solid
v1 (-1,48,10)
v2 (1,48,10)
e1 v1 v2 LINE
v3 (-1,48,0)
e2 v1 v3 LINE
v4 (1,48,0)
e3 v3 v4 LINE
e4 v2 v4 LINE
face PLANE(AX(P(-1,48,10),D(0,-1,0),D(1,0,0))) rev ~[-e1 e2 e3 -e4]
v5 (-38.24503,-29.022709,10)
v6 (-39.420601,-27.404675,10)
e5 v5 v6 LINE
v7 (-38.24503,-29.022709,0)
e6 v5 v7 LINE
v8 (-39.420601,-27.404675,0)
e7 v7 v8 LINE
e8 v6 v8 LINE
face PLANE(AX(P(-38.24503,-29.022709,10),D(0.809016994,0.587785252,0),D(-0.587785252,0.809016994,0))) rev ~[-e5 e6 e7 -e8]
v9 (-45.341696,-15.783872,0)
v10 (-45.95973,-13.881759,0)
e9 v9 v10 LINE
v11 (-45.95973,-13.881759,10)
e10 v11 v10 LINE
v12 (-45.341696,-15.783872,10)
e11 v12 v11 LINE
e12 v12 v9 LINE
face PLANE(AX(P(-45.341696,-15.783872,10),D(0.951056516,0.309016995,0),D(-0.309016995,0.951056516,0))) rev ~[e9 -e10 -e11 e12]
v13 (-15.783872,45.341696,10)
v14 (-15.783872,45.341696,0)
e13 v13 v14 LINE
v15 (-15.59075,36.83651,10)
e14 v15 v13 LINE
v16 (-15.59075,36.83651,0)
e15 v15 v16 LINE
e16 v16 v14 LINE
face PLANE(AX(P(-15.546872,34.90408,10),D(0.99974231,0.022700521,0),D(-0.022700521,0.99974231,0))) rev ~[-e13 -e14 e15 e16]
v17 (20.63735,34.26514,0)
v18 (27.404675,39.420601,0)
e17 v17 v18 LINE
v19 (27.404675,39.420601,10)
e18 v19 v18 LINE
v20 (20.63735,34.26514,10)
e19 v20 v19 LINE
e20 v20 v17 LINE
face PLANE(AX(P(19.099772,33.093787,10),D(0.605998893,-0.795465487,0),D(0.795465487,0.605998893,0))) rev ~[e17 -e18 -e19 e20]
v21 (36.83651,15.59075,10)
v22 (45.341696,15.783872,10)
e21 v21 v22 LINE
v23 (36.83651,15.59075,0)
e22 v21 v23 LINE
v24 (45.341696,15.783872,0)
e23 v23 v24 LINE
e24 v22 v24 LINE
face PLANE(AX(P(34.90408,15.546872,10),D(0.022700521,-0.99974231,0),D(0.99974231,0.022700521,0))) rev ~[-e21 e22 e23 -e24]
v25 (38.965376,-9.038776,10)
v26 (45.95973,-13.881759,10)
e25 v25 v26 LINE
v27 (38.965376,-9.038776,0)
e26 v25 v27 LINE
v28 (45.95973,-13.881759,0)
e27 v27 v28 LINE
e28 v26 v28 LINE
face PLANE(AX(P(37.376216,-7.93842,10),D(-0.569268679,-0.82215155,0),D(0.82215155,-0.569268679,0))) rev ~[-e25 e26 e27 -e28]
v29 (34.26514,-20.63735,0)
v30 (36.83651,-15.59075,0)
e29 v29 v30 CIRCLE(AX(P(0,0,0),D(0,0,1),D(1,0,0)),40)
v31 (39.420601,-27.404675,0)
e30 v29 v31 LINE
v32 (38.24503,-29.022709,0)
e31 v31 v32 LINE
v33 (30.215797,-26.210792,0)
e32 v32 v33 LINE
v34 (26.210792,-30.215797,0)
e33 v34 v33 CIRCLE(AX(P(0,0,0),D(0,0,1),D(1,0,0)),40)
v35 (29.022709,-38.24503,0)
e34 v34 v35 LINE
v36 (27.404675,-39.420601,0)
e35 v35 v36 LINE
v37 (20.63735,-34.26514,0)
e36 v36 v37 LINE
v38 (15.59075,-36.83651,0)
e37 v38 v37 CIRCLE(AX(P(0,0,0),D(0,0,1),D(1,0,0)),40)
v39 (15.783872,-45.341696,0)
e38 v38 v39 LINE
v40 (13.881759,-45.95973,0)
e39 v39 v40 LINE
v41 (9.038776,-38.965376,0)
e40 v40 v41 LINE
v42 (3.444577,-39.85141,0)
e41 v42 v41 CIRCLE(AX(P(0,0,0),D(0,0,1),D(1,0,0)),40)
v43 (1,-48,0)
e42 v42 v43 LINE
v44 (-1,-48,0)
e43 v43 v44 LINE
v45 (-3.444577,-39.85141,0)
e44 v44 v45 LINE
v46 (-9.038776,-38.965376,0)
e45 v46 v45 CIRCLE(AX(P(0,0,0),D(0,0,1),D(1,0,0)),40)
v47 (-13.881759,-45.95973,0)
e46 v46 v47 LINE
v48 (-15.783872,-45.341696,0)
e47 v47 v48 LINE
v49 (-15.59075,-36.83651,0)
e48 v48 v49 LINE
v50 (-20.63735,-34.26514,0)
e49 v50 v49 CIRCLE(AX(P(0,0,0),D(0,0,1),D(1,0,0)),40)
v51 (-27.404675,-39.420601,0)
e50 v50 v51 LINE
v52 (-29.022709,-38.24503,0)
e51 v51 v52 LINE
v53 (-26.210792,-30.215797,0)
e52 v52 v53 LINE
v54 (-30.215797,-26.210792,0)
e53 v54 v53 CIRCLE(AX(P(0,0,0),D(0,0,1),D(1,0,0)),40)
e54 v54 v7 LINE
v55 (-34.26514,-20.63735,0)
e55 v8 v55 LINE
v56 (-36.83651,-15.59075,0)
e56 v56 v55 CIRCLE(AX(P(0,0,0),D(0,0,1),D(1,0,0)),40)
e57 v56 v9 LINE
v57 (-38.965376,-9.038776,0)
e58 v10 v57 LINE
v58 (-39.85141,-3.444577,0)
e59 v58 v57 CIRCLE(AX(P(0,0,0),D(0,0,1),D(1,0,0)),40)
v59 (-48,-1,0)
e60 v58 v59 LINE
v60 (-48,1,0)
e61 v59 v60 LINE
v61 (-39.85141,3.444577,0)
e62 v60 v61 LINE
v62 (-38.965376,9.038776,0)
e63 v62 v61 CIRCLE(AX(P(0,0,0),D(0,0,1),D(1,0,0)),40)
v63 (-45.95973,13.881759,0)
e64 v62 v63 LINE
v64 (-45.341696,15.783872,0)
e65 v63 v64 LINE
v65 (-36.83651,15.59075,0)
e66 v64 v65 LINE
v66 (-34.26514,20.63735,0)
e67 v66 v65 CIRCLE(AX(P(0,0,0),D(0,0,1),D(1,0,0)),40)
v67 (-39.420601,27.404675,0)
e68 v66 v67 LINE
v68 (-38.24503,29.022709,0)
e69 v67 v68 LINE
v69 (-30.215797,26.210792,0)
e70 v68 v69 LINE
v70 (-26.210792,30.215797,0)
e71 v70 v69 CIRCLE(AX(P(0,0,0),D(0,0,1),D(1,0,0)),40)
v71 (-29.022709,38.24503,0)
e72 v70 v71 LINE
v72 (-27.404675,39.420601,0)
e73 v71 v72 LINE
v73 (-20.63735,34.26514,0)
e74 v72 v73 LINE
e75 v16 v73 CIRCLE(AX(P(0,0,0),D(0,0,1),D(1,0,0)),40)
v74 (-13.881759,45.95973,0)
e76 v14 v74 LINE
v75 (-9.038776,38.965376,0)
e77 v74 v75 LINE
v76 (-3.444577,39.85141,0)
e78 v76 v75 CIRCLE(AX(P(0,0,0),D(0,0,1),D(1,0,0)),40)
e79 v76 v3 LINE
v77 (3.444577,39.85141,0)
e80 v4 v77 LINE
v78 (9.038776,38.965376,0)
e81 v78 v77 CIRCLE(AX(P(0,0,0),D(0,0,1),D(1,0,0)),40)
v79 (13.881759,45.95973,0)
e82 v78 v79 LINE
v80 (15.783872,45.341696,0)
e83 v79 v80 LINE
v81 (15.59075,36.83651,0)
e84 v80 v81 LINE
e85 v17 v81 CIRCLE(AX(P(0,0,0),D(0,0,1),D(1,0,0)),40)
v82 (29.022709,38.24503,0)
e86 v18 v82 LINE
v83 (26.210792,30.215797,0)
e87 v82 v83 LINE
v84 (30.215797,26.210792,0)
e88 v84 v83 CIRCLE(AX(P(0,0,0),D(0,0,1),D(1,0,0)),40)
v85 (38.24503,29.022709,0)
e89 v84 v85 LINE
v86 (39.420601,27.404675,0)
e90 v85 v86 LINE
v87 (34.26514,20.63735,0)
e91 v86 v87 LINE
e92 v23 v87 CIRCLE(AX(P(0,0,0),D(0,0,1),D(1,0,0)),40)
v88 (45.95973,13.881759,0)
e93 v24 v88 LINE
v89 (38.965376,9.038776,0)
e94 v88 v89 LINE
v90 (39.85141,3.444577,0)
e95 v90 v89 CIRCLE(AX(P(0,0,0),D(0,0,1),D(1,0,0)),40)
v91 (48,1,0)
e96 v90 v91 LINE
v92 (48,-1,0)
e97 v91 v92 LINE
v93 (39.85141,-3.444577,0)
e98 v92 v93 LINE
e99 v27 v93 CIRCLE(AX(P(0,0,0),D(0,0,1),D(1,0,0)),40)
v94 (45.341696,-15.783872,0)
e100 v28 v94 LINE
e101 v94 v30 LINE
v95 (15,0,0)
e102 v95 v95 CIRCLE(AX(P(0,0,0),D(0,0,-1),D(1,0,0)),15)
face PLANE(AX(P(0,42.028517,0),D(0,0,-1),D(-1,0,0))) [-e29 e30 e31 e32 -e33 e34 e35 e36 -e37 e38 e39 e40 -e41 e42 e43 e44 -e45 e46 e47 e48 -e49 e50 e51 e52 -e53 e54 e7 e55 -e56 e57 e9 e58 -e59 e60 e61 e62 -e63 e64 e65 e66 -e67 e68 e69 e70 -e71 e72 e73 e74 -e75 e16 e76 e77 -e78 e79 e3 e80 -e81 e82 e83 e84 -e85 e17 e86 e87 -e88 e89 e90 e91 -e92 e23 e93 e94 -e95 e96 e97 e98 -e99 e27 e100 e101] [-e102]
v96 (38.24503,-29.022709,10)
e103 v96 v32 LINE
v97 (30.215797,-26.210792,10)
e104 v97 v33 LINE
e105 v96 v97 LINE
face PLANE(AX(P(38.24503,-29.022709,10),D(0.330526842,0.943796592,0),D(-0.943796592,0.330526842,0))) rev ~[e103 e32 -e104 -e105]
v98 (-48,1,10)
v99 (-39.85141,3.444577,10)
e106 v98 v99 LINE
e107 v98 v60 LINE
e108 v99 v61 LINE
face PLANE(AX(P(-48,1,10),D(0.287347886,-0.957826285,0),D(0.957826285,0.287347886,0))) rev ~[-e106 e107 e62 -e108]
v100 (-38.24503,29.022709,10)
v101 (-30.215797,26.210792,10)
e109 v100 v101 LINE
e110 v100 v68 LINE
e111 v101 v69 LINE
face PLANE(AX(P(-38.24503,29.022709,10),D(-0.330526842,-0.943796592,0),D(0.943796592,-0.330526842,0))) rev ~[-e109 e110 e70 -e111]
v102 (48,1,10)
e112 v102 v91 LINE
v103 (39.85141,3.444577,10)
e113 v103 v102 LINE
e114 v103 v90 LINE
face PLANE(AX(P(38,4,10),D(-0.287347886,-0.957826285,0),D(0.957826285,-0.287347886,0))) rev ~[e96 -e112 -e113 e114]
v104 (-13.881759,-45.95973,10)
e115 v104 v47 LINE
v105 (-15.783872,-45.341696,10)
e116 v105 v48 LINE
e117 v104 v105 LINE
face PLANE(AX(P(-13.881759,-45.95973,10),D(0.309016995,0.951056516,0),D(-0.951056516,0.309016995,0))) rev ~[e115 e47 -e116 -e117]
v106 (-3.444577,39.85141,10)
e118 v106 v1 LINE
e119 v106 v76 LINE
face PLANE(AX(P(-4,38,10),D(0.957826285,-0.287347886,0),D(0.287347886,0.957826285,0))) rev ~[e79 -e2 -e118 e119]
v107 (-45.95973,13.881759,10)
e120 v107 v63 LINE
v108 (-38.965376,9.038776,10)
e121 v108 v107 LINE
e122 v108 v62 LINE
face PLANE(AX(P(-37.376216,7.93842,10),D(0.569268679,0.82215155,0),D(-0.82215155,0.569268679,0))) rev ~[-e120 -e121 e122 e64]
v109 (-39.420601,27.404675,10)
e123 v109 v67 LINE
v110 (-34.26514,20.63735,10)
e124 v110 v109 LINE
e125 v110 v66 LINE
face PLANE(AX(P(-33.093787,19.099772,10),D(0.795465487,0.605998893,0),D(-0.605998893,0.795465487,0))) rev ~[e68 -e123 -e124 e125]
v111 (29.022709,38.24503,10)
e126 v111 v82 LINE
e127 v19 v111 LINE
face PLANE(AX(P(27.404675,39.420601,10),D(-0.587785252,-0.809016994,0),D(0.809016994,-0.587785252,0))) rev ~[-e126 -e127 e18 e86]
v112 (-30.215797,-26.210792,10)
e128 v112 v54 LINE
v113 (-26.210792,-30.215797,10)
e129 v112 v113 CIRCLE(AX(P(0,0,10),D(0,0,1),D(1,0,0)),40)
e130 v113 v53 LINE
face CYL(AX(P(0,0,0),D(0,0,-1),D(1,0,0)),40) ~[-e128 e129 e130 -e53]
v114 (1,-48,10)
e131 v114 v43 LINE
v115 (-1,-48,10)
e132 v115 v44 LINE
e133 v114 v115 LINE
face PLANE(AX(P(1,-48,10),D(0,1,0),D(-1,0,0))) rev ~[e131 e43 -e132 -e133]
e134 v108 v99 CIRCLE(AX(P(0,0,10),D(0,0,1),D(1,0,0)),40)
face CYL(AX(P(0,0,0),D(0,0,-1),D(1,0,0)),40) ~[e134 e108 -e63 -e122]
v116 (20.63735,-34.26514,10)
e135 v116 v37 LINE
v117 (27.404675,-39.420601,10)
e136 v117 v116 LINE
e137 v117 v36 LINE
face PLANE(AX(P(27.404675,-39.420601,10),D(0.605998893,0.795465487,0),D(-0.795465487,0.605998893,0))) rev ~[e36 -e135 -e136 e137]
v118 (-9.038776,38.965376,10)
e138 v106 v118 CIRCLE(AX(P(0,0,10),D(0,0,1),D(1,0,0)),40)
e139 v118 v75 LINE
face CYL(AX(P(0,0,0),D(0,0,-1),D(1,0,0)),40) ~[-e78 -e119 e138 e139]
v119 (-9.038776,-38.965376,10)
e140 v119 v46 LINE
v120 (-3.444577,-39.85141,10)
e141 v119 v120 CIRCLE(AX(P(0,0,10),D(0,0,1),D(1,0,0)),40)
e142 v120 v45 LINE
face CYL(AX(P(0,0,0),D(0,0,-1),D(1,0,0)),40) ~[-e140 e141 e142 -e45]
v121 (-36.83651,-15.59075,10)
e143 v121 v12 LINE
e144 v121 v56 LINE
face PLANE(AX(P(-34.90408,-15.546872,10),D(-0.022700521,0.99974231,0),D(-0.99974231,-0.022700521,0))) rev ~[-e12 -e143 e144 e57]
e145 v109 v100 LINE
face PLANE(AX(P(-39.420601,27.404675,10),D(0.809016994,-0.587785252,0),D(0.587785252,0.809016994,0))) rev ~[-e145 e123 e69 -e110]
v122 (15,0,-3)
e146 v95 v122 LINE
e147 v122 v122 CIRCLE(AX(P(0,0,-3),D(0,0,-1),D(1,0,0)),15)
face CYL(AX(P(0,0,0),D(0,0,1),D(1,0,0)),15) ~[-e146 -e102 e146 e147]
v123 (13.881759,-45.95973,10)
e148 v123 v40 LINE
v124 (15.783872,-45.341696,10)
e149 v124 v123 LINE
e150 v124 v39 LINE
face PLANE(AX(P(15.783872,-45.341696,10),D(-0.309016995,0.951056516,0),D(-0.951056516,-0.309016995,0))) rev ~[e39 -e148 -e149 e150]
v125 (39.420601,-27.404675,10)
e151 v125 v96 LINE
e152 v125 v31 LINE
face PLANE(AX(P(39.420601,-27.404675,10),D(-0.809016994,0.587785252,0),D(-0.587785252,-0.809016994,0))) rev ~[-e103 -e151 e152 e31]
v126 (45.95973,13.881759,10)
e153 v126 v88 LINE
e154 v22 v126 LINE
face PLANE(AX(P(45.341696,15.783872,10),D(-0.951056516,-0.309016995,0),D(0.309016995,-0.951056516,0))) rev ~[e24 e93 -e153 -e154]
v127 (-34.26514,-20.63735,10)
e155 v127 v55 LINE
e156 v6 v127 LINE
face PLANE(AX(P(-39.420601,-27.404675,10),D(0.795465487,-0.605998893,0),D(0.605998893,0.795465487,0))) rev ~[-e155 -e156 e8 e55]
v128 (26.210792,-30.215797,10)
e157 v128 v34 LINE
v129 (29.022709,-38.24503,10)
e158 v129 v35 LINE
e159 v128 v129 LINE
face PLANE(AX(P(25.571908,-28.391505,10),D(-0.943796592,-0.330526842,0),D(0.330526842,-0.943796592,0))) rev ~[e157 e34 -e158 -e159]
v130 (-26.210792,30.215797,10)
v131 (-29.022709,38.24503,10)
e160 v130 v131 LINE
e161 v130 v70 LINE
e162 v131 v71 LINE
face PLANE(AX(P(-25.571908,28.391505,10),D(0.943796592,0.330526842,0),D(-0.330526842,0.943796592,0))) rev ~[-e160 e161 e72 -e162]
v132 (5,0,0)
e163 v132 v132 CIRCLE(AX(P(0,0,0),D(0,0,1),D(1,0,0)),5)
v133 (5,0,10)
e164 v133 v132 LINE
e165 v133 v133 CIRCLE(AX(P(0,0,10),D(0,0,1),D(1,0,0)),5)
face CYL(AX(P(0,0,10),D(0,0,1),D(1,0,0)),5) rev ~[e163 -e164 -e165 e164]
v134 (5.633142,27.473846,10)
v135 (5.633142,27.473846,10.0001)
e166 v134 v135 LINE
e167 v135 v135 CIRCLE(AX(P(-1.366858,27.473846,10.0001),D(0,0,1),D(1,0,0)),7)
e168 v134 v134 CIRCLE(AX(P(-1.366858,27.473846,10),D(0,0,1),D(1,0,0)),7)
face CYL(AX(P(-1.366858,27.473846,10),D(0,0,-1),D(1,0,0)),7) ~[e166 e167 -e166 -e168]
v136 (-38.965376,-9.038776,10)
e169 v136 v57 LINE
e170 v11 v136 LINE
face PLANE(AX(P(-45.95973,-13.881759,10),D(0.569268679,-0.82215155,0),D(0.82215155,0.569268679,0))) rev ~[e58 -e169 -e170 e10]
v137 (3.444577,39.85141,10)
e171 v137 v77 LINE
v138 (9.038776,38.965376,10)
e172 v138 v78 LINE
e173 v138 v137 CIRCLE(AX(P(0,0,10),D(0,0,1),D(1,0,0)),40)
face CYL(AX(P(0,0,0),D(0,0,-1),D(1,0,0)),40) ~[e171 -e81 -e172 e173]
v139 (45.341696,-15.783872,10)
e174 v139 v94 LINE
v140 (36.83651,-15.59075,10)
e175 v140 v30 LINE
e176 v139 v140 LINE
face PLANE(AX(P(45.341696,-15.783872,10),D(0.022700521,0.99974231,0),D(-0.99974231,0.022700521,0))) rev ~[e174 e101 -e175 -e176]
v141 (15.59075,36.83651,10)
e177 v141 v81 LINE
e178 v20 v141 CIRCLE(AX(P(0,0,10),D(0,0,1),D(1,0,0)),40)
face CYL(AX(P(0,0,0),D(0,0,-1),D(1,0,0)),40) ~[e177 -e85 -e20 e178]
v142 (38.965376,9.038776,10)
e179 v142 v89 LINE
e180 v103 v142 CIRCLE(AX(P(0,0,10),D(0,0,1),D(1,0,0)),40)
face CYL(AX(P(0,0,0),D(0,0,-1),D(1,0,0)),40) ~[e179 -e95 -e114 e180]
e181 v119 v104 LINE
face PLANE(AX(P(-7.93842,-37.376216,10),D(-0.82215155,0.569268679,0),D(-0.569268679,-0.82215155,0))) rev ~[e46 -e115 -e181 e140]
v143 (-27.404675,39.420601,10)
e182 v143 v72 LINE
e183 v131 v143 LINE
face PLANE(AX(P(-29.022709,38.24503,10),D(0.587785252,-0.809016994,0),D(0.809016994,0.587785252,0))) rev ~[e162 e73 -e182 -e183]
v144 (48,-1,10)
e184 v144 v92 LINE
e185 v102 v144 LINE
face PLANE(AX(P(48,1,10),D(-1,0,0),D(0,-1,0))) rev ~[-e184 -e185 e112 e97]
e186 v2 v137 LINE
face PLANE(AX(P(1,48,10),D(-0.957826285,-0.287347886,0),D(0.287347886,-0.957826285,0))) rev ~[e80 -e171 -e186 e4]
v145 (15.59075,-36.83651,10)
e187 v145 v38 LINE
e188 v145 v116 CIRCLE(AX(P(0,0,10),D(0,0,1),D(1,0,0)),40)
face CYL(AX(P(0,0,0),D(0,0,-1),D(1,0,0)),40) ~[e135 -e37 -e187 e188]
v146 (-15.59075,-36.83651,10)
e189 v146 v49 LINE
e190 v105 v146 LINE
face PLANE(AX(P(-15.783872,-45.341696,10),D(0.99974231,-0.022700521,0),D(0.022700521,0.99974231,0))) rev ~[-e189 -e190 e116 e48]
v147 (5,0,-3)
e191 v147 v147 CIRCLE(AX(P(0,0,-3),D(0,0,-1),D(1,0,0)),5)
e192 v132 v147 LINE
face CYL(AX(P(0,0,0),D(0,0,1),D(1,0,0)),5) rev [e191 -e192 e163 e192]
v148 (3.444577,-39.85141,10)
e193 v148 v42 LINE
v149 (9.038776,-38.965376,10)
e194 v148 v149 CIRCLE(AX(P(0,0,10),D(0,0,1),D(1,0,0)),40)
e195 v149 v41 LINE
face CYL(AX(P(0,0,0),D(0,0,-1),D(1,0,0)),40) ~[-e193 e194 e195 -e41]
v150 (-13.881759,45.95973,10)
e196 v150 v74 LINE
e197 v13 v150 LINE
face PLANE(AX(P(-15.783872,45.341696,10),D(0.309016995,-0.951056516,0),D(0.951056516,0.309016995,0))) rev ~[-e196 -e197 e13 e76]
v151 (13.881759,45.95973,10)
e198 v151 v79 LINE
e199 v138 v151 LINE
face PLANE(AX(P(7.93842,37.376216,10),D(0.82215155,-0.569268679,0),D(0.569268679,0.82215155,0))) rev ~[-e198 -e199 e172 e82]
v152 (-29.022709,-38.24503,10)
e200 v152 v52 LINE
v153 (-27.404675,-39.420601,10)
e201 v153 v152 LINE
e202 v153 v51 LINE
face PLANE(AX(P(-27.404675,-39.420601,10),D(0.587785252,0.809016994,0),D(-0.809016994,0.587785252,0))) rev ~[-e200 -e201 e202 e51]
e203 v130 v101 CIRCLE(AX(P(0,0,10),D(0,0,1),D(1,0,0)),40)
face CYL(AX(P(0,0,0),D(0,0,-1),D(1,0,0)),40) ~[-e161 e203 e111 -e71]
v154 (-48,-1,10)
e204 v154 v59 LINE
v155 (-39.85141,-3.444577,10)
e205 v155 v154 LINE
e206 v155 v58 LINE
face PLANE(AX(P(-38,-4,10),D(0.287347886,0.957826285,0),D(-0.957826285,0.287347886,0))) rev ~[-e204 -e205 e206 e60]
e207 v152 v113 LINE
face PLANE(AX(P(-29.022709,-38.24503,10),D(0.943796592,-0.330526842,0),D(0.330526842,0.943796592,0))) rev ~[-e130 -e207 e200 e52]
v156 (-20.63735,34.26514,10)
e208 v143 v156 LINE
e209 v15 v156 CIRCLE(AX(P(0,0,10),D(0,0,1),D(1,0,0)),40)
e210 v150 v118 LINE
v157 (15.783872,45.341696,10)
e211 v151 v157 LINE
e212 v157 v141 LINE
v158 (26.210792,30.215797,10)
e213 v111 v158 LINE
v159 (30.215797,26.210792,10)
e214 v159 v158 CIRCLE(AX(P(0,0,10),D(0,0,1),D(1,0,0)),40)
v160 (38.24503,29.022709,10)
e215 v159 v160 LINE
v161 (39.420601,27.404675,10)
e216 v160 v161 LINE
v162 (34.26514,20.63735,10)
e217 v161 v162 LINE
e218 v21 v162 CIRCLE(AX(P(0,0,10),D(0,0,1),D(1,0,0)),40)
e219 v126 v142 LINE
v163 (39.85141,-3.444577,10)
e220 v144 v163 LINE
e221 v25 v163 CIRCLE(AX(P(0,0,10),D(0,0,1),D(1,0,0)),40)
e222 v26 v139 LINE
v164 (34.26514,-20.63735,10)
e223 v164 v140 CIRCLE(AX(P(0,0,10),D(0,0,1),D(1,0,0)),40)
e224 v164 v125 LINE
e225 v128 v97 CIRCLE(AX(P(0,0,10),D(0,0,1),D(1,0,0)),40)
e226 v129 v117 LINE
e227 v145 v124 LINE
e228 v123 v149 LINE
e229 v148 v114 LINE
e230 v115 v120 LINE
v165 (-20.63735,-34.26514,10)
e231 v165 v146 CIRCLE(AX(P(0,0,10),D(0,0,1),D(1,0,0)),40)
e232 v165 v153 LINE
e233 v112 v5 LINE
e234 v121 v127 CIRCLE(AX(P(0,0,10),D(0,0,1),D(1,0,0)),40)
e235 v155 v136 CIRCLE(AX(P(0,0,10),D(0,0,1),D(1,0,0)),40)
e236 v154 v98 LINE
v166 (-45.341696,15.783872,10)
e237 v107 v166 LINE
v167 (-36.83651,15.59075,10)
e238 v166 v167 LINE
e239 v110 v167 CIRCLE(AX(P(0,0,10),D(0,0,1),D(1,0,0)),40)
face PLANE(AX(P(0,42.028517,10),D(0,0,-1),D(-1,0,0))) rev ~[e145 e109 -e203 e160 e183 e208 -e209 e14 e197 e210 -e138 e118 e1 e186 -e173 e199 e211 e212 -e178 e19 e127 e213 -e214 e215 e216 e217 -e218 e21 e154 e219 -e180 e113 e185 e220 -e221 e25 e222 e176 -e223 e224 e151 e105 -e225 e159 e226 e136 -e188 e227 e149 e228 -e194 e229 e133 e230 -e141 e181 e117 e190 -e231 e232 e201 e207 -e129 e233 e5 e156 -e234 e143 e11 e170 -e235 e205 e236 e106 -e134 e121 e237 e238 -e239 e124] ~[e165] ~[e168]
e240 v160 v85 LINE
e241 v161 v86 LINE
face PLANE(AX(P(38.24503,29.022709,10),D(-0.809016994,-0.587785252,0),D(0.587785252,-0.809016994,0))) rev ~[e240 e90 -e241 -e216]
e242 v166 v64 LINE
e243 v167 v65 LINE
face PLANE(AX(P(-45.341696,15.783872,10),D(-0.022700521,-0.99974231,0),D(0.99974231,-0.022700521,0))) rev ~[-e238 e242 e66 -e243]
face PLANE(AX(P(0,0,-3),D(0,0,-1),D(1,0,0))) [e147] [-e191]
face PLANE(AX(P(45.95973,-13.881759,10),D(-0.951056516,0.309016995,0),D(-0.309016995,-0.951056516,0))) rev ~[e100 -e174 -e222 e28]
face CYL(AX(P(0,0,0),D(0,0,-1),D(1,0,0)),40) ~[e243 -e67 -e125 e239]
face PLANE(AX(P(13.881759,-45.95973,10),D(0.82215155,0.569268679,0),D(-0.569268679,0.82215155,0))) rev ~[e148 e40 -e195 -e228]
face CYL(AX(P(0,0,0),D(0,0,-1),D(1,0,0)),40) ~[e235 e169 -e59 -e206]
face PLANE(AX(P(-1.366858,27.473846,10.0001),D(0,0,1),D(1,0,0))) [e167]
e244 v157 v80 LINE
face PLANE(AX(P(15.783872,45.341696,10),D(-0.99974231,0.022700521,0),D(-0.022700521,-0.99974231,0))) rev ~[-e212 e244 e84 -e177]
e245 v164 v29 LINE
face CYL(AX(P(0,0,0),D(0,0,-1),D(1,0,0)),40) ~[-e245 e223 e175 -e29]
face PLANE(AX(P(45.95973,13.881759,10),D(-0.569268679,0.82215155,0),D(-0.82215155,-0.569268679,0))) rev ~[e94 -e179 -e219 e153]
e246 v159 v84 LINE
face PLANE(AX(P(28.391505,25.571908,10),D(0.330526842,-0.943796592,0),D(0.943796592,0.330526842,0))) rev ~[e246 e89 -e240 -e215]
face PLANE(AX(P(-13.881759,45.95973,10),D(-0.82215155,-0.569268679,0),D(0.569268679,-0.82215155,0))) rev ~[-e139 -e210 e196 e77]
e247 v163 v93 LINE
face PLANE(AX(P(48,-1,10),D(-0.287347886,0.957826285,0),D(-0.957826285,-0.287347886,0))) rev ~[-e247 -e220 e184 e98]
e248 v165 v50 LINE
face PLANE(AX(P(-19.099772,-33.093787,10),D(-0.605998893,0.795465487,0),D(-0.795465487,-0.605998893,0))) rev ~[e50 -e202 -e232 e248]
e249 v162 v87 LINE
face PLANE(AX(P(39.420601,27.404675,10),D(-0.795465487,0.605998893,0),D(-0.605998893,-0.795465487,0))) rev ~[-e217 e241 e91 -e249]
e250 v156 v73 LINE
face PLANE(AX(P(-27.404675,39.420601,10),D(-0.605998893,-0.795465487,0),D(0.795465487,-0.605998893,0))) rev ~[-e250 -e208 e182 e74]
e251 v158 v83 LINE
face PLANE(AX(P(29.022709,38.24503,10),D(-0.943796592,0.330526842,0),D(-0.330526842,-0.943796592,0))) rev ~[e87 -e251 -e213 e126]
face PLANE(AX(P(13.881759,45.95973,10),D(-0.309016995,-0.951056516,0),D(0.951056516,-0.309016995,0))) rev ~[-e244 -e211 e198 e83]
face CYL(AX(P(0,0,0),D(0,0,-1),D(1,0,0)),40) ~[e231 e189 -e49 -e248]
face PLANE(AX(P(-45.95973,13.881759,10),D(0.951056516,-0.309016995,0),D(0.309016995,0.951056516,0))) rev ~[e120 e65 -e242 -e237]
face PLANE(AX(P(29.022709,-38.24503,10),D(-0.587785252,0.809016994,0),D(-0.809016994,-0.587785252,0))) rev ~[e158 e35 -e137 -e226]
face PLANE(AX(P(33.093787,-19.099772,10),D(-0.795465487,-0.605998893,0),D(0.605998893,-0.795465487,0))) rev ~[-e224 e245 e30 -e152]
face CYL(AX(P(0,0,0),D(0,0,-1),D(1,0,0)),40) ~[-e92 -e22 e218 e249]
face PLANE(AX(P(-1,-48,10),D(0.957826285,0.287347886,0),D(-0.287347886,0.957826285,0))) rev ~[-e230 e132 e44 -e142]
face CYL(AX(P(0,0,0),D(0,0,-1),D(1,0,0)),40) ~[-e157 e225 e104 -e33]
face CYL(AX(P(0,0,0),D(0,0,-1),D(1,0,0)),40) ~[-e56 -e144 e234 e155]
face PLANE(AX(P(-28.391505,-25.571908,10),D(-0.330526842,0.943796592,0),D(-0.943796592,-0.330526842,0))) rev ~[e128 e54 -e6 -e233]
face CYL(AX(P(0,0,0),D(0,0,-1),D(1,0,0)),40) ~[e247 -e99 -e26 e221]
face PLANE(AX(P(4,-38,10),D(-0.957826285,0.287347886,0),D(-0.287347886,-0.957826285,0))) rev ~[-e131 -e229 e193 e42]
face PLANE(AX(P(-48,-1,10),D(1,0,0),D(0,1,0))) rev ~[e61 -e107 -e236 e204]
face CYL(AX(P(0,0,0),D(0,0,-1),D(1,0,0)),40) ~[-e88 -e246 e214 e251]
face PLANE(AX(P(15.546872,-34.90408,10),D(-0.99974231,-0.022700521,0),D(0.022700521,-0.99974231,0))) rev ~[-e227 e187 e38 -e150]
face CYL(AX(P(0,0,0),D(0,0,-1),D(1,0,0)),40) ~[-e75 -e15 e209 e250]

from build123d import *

# Parameters (mm, degrees)
SKETCH1_R           = 40
BOSS_EXTRUDE1_DEPTH = 10
SKETCH2_R           = 5
CUT_EXTRUDE1_DEPTH  = 10
BOSS_EXTRUDE2_DEPTH = 10
SKETCH4_R           = 5
BOSS_EXTRUDE3_DEPTH = 0.0001
SKETCH5_R           = 7
BOSS_EXTRUDE4_DEPTH = 0.0001
SKETCH6_R           = 15
BOSS_EXTRUDE5_DEPTH = 3
CUT_EXTRUDE2_START  = -3
SKETCH7_R           = 5
CUT_EXTRUDE2_DEPTH  = 3


with BuildPart() as part:
    # Sketch1 → Boss-Extrude1 (new body)
    with BuildSketch(Plane.XY):
        Circle(SKETCH1_R)
    extrude(amount=BOSS_EXTRUDE1_DEPTH)

    # Sketch2 → Cut-Extrude1 (cut)
    with BuildSketch(Plane.XY.offset(10)):
        Circle(SKETCH2_R)
    extrude(amount=-CUT_EXTRUDE1_DEPTH, mode=Mode.SUBTRACT)

    # Sketch3 → Boss-Extrude2 (add)
    with BuildSketch(Plane.XY.offset(10)):
        Polygon((-1, 48), (1, 48), (4, 38), (-4, 38), align=None)
        Polygon((7.938419721, 37.376215597), (13.881759214, 45.959729777), (15.783872246, 45.341695788), (15.546871851, 34.904079642), align=None)
        Polygon((19.09977161, 33.093786795), (27.404675116, 39.420600982), (29.022709104, 38.245030478), (25.571907565, 28.391504777), align=None)
        Polygon((28.391504777, 25.571907565), (38.245030478, 29.022709104), (39.420600982, 27.404675116), (33.093786795, 19.09977161), align=None)
        Polygon((34.904079642, 15.546871851), (45.341695788, 15.783872246), (45.959729777, 13.881759214), (37.376215597, 7.938419721), align=None)
        Polygon((38, 4), (48, 1), (48, -1), (38, -4), align=None)
        Polygon((37.376215597, -7.938419721), (45.959729777, -13.881759214), (45.341695788, -15.783872246), (34.904079642, -15.546871851), align=None)
        Polygon((33.093786795, -19.09977161), (39.420600982, -27.404675116), (38.245030478, -29.022709104), (28.391504777, -25.571907565), align=None)
        Polygon((25.571907565, -28.391504777), (29.022709104, -38.245030478), (27.404675116, -39.420600982), (19.09977161, -33.093786795), align=None)
        Polygon((15.546871851, -34.904079642), (15.783872246, -45.341695788), (13.881759214, -45.959729777), (7.938419721, -37.376215597), align=None)
        Polygon((4, -38), (1, -48), (-1, -48), (-4, -38), align=None)
        Polygon((-7.938419721, -37.376215597), (-13.881759214, -45.959729777), (-15.783872246, -45.341695788), (-15.546871851, -34.904079642), align=None)
        Polygon((-19.09977161, -33.093786795), (-27.404675116, -39.420600982), (-29.022709104, -38.245030478), (-25.571907565, -28.391504777), align=None)
        Polygon((-28.391504777, -25.571907565), (-38.245030478, -29.022709104), (-39.420600982, -27.404675116), (-33.093786795, -19.09977161), align=None)
        Polygon((-34.904079642, -15.546871851), (-45.341695788, -15.783872246), (-45.959729777, -13.881759214), (-37.376215597, -7.938419721), align=None)
        Polygon((-38, -4), (-48, -1), (-48, 1), (-38, 4), align=None)
        Polygon((-37.376215597, 7.938419721), (-45.959729777, 13.881759214), (-45.341695788, 15.783872246), (-34.904079642, 15.546871851), align=None)
        Polygon((-33.093786795, 19.09977161), (-39.420600982, 27.404675116), (-38.245030478, 29.022709104), (-28.391504777, 25.571907565), align=None)
        Polygon((-25.571907565, 28.391504777), (-29.022709104, 38.245030478), (-27.404675116, 39.420600982), (-19.09977161, 33.093786795), align=None)
        Polygon((-15.546871851, 34.904079642), (-15.783872246, 45.341695788), (-13.881759214, 45.959729777), (-7.938419721, 37.376215597), align=None)
    extrude(amount=-BOSS_EXTRUDE2_DEPTH)

    # Sketch4 → Boss-Extrude3 (add)
    with BuildSketch(Plane.XY.offset(10)):
        with Locations((-1.366858005, 27.473845905)):
            Circle(SKETCH4_R)
    extrude(amount=BOSS_EXTRUDE3_DEPTH)

    # Sketch5 → Boss-Extrude4 (add)
    with BuildSketch(Plane.XY.offset(10)):
        with Locations((-1.366858005, 27.473845905)):
            Circle(SKETCH5_R)
    extrude(amount=BOSS_EXTRUDE4_DEPTH)

    # Sketch6 → Boss-Extrude5 (add)
    with BuildSketch(Plane(origin=(0, 0, 0), x_dir=(-1, 0, 0), z_dir=(0, 0, -1))):
        with Locations(Location((0, 0, 0), (0, 0, 180))):
            Circle(SKETCH6_R)
    extrude(amount=BOSS_EXTRUDE5_DEPTH)

    # Sketch7 → Cut-Extrude2 (cut)
    with BuildSketch(Plane(origin=(0, 0, -3), x_dir=(-1, 0, 0), z_dir=(0, 0, -1)).offset(CUT_EXTRUDE2_START)):
        with Locations(Location((0, 0, 0), (0, 0, 180))):
            Circle(SKETCH7_R)
    extrude(amount=CUT_EXTRUDE2_DEPTH, mode=Mode.SUBTRACT)


solid = part.part
